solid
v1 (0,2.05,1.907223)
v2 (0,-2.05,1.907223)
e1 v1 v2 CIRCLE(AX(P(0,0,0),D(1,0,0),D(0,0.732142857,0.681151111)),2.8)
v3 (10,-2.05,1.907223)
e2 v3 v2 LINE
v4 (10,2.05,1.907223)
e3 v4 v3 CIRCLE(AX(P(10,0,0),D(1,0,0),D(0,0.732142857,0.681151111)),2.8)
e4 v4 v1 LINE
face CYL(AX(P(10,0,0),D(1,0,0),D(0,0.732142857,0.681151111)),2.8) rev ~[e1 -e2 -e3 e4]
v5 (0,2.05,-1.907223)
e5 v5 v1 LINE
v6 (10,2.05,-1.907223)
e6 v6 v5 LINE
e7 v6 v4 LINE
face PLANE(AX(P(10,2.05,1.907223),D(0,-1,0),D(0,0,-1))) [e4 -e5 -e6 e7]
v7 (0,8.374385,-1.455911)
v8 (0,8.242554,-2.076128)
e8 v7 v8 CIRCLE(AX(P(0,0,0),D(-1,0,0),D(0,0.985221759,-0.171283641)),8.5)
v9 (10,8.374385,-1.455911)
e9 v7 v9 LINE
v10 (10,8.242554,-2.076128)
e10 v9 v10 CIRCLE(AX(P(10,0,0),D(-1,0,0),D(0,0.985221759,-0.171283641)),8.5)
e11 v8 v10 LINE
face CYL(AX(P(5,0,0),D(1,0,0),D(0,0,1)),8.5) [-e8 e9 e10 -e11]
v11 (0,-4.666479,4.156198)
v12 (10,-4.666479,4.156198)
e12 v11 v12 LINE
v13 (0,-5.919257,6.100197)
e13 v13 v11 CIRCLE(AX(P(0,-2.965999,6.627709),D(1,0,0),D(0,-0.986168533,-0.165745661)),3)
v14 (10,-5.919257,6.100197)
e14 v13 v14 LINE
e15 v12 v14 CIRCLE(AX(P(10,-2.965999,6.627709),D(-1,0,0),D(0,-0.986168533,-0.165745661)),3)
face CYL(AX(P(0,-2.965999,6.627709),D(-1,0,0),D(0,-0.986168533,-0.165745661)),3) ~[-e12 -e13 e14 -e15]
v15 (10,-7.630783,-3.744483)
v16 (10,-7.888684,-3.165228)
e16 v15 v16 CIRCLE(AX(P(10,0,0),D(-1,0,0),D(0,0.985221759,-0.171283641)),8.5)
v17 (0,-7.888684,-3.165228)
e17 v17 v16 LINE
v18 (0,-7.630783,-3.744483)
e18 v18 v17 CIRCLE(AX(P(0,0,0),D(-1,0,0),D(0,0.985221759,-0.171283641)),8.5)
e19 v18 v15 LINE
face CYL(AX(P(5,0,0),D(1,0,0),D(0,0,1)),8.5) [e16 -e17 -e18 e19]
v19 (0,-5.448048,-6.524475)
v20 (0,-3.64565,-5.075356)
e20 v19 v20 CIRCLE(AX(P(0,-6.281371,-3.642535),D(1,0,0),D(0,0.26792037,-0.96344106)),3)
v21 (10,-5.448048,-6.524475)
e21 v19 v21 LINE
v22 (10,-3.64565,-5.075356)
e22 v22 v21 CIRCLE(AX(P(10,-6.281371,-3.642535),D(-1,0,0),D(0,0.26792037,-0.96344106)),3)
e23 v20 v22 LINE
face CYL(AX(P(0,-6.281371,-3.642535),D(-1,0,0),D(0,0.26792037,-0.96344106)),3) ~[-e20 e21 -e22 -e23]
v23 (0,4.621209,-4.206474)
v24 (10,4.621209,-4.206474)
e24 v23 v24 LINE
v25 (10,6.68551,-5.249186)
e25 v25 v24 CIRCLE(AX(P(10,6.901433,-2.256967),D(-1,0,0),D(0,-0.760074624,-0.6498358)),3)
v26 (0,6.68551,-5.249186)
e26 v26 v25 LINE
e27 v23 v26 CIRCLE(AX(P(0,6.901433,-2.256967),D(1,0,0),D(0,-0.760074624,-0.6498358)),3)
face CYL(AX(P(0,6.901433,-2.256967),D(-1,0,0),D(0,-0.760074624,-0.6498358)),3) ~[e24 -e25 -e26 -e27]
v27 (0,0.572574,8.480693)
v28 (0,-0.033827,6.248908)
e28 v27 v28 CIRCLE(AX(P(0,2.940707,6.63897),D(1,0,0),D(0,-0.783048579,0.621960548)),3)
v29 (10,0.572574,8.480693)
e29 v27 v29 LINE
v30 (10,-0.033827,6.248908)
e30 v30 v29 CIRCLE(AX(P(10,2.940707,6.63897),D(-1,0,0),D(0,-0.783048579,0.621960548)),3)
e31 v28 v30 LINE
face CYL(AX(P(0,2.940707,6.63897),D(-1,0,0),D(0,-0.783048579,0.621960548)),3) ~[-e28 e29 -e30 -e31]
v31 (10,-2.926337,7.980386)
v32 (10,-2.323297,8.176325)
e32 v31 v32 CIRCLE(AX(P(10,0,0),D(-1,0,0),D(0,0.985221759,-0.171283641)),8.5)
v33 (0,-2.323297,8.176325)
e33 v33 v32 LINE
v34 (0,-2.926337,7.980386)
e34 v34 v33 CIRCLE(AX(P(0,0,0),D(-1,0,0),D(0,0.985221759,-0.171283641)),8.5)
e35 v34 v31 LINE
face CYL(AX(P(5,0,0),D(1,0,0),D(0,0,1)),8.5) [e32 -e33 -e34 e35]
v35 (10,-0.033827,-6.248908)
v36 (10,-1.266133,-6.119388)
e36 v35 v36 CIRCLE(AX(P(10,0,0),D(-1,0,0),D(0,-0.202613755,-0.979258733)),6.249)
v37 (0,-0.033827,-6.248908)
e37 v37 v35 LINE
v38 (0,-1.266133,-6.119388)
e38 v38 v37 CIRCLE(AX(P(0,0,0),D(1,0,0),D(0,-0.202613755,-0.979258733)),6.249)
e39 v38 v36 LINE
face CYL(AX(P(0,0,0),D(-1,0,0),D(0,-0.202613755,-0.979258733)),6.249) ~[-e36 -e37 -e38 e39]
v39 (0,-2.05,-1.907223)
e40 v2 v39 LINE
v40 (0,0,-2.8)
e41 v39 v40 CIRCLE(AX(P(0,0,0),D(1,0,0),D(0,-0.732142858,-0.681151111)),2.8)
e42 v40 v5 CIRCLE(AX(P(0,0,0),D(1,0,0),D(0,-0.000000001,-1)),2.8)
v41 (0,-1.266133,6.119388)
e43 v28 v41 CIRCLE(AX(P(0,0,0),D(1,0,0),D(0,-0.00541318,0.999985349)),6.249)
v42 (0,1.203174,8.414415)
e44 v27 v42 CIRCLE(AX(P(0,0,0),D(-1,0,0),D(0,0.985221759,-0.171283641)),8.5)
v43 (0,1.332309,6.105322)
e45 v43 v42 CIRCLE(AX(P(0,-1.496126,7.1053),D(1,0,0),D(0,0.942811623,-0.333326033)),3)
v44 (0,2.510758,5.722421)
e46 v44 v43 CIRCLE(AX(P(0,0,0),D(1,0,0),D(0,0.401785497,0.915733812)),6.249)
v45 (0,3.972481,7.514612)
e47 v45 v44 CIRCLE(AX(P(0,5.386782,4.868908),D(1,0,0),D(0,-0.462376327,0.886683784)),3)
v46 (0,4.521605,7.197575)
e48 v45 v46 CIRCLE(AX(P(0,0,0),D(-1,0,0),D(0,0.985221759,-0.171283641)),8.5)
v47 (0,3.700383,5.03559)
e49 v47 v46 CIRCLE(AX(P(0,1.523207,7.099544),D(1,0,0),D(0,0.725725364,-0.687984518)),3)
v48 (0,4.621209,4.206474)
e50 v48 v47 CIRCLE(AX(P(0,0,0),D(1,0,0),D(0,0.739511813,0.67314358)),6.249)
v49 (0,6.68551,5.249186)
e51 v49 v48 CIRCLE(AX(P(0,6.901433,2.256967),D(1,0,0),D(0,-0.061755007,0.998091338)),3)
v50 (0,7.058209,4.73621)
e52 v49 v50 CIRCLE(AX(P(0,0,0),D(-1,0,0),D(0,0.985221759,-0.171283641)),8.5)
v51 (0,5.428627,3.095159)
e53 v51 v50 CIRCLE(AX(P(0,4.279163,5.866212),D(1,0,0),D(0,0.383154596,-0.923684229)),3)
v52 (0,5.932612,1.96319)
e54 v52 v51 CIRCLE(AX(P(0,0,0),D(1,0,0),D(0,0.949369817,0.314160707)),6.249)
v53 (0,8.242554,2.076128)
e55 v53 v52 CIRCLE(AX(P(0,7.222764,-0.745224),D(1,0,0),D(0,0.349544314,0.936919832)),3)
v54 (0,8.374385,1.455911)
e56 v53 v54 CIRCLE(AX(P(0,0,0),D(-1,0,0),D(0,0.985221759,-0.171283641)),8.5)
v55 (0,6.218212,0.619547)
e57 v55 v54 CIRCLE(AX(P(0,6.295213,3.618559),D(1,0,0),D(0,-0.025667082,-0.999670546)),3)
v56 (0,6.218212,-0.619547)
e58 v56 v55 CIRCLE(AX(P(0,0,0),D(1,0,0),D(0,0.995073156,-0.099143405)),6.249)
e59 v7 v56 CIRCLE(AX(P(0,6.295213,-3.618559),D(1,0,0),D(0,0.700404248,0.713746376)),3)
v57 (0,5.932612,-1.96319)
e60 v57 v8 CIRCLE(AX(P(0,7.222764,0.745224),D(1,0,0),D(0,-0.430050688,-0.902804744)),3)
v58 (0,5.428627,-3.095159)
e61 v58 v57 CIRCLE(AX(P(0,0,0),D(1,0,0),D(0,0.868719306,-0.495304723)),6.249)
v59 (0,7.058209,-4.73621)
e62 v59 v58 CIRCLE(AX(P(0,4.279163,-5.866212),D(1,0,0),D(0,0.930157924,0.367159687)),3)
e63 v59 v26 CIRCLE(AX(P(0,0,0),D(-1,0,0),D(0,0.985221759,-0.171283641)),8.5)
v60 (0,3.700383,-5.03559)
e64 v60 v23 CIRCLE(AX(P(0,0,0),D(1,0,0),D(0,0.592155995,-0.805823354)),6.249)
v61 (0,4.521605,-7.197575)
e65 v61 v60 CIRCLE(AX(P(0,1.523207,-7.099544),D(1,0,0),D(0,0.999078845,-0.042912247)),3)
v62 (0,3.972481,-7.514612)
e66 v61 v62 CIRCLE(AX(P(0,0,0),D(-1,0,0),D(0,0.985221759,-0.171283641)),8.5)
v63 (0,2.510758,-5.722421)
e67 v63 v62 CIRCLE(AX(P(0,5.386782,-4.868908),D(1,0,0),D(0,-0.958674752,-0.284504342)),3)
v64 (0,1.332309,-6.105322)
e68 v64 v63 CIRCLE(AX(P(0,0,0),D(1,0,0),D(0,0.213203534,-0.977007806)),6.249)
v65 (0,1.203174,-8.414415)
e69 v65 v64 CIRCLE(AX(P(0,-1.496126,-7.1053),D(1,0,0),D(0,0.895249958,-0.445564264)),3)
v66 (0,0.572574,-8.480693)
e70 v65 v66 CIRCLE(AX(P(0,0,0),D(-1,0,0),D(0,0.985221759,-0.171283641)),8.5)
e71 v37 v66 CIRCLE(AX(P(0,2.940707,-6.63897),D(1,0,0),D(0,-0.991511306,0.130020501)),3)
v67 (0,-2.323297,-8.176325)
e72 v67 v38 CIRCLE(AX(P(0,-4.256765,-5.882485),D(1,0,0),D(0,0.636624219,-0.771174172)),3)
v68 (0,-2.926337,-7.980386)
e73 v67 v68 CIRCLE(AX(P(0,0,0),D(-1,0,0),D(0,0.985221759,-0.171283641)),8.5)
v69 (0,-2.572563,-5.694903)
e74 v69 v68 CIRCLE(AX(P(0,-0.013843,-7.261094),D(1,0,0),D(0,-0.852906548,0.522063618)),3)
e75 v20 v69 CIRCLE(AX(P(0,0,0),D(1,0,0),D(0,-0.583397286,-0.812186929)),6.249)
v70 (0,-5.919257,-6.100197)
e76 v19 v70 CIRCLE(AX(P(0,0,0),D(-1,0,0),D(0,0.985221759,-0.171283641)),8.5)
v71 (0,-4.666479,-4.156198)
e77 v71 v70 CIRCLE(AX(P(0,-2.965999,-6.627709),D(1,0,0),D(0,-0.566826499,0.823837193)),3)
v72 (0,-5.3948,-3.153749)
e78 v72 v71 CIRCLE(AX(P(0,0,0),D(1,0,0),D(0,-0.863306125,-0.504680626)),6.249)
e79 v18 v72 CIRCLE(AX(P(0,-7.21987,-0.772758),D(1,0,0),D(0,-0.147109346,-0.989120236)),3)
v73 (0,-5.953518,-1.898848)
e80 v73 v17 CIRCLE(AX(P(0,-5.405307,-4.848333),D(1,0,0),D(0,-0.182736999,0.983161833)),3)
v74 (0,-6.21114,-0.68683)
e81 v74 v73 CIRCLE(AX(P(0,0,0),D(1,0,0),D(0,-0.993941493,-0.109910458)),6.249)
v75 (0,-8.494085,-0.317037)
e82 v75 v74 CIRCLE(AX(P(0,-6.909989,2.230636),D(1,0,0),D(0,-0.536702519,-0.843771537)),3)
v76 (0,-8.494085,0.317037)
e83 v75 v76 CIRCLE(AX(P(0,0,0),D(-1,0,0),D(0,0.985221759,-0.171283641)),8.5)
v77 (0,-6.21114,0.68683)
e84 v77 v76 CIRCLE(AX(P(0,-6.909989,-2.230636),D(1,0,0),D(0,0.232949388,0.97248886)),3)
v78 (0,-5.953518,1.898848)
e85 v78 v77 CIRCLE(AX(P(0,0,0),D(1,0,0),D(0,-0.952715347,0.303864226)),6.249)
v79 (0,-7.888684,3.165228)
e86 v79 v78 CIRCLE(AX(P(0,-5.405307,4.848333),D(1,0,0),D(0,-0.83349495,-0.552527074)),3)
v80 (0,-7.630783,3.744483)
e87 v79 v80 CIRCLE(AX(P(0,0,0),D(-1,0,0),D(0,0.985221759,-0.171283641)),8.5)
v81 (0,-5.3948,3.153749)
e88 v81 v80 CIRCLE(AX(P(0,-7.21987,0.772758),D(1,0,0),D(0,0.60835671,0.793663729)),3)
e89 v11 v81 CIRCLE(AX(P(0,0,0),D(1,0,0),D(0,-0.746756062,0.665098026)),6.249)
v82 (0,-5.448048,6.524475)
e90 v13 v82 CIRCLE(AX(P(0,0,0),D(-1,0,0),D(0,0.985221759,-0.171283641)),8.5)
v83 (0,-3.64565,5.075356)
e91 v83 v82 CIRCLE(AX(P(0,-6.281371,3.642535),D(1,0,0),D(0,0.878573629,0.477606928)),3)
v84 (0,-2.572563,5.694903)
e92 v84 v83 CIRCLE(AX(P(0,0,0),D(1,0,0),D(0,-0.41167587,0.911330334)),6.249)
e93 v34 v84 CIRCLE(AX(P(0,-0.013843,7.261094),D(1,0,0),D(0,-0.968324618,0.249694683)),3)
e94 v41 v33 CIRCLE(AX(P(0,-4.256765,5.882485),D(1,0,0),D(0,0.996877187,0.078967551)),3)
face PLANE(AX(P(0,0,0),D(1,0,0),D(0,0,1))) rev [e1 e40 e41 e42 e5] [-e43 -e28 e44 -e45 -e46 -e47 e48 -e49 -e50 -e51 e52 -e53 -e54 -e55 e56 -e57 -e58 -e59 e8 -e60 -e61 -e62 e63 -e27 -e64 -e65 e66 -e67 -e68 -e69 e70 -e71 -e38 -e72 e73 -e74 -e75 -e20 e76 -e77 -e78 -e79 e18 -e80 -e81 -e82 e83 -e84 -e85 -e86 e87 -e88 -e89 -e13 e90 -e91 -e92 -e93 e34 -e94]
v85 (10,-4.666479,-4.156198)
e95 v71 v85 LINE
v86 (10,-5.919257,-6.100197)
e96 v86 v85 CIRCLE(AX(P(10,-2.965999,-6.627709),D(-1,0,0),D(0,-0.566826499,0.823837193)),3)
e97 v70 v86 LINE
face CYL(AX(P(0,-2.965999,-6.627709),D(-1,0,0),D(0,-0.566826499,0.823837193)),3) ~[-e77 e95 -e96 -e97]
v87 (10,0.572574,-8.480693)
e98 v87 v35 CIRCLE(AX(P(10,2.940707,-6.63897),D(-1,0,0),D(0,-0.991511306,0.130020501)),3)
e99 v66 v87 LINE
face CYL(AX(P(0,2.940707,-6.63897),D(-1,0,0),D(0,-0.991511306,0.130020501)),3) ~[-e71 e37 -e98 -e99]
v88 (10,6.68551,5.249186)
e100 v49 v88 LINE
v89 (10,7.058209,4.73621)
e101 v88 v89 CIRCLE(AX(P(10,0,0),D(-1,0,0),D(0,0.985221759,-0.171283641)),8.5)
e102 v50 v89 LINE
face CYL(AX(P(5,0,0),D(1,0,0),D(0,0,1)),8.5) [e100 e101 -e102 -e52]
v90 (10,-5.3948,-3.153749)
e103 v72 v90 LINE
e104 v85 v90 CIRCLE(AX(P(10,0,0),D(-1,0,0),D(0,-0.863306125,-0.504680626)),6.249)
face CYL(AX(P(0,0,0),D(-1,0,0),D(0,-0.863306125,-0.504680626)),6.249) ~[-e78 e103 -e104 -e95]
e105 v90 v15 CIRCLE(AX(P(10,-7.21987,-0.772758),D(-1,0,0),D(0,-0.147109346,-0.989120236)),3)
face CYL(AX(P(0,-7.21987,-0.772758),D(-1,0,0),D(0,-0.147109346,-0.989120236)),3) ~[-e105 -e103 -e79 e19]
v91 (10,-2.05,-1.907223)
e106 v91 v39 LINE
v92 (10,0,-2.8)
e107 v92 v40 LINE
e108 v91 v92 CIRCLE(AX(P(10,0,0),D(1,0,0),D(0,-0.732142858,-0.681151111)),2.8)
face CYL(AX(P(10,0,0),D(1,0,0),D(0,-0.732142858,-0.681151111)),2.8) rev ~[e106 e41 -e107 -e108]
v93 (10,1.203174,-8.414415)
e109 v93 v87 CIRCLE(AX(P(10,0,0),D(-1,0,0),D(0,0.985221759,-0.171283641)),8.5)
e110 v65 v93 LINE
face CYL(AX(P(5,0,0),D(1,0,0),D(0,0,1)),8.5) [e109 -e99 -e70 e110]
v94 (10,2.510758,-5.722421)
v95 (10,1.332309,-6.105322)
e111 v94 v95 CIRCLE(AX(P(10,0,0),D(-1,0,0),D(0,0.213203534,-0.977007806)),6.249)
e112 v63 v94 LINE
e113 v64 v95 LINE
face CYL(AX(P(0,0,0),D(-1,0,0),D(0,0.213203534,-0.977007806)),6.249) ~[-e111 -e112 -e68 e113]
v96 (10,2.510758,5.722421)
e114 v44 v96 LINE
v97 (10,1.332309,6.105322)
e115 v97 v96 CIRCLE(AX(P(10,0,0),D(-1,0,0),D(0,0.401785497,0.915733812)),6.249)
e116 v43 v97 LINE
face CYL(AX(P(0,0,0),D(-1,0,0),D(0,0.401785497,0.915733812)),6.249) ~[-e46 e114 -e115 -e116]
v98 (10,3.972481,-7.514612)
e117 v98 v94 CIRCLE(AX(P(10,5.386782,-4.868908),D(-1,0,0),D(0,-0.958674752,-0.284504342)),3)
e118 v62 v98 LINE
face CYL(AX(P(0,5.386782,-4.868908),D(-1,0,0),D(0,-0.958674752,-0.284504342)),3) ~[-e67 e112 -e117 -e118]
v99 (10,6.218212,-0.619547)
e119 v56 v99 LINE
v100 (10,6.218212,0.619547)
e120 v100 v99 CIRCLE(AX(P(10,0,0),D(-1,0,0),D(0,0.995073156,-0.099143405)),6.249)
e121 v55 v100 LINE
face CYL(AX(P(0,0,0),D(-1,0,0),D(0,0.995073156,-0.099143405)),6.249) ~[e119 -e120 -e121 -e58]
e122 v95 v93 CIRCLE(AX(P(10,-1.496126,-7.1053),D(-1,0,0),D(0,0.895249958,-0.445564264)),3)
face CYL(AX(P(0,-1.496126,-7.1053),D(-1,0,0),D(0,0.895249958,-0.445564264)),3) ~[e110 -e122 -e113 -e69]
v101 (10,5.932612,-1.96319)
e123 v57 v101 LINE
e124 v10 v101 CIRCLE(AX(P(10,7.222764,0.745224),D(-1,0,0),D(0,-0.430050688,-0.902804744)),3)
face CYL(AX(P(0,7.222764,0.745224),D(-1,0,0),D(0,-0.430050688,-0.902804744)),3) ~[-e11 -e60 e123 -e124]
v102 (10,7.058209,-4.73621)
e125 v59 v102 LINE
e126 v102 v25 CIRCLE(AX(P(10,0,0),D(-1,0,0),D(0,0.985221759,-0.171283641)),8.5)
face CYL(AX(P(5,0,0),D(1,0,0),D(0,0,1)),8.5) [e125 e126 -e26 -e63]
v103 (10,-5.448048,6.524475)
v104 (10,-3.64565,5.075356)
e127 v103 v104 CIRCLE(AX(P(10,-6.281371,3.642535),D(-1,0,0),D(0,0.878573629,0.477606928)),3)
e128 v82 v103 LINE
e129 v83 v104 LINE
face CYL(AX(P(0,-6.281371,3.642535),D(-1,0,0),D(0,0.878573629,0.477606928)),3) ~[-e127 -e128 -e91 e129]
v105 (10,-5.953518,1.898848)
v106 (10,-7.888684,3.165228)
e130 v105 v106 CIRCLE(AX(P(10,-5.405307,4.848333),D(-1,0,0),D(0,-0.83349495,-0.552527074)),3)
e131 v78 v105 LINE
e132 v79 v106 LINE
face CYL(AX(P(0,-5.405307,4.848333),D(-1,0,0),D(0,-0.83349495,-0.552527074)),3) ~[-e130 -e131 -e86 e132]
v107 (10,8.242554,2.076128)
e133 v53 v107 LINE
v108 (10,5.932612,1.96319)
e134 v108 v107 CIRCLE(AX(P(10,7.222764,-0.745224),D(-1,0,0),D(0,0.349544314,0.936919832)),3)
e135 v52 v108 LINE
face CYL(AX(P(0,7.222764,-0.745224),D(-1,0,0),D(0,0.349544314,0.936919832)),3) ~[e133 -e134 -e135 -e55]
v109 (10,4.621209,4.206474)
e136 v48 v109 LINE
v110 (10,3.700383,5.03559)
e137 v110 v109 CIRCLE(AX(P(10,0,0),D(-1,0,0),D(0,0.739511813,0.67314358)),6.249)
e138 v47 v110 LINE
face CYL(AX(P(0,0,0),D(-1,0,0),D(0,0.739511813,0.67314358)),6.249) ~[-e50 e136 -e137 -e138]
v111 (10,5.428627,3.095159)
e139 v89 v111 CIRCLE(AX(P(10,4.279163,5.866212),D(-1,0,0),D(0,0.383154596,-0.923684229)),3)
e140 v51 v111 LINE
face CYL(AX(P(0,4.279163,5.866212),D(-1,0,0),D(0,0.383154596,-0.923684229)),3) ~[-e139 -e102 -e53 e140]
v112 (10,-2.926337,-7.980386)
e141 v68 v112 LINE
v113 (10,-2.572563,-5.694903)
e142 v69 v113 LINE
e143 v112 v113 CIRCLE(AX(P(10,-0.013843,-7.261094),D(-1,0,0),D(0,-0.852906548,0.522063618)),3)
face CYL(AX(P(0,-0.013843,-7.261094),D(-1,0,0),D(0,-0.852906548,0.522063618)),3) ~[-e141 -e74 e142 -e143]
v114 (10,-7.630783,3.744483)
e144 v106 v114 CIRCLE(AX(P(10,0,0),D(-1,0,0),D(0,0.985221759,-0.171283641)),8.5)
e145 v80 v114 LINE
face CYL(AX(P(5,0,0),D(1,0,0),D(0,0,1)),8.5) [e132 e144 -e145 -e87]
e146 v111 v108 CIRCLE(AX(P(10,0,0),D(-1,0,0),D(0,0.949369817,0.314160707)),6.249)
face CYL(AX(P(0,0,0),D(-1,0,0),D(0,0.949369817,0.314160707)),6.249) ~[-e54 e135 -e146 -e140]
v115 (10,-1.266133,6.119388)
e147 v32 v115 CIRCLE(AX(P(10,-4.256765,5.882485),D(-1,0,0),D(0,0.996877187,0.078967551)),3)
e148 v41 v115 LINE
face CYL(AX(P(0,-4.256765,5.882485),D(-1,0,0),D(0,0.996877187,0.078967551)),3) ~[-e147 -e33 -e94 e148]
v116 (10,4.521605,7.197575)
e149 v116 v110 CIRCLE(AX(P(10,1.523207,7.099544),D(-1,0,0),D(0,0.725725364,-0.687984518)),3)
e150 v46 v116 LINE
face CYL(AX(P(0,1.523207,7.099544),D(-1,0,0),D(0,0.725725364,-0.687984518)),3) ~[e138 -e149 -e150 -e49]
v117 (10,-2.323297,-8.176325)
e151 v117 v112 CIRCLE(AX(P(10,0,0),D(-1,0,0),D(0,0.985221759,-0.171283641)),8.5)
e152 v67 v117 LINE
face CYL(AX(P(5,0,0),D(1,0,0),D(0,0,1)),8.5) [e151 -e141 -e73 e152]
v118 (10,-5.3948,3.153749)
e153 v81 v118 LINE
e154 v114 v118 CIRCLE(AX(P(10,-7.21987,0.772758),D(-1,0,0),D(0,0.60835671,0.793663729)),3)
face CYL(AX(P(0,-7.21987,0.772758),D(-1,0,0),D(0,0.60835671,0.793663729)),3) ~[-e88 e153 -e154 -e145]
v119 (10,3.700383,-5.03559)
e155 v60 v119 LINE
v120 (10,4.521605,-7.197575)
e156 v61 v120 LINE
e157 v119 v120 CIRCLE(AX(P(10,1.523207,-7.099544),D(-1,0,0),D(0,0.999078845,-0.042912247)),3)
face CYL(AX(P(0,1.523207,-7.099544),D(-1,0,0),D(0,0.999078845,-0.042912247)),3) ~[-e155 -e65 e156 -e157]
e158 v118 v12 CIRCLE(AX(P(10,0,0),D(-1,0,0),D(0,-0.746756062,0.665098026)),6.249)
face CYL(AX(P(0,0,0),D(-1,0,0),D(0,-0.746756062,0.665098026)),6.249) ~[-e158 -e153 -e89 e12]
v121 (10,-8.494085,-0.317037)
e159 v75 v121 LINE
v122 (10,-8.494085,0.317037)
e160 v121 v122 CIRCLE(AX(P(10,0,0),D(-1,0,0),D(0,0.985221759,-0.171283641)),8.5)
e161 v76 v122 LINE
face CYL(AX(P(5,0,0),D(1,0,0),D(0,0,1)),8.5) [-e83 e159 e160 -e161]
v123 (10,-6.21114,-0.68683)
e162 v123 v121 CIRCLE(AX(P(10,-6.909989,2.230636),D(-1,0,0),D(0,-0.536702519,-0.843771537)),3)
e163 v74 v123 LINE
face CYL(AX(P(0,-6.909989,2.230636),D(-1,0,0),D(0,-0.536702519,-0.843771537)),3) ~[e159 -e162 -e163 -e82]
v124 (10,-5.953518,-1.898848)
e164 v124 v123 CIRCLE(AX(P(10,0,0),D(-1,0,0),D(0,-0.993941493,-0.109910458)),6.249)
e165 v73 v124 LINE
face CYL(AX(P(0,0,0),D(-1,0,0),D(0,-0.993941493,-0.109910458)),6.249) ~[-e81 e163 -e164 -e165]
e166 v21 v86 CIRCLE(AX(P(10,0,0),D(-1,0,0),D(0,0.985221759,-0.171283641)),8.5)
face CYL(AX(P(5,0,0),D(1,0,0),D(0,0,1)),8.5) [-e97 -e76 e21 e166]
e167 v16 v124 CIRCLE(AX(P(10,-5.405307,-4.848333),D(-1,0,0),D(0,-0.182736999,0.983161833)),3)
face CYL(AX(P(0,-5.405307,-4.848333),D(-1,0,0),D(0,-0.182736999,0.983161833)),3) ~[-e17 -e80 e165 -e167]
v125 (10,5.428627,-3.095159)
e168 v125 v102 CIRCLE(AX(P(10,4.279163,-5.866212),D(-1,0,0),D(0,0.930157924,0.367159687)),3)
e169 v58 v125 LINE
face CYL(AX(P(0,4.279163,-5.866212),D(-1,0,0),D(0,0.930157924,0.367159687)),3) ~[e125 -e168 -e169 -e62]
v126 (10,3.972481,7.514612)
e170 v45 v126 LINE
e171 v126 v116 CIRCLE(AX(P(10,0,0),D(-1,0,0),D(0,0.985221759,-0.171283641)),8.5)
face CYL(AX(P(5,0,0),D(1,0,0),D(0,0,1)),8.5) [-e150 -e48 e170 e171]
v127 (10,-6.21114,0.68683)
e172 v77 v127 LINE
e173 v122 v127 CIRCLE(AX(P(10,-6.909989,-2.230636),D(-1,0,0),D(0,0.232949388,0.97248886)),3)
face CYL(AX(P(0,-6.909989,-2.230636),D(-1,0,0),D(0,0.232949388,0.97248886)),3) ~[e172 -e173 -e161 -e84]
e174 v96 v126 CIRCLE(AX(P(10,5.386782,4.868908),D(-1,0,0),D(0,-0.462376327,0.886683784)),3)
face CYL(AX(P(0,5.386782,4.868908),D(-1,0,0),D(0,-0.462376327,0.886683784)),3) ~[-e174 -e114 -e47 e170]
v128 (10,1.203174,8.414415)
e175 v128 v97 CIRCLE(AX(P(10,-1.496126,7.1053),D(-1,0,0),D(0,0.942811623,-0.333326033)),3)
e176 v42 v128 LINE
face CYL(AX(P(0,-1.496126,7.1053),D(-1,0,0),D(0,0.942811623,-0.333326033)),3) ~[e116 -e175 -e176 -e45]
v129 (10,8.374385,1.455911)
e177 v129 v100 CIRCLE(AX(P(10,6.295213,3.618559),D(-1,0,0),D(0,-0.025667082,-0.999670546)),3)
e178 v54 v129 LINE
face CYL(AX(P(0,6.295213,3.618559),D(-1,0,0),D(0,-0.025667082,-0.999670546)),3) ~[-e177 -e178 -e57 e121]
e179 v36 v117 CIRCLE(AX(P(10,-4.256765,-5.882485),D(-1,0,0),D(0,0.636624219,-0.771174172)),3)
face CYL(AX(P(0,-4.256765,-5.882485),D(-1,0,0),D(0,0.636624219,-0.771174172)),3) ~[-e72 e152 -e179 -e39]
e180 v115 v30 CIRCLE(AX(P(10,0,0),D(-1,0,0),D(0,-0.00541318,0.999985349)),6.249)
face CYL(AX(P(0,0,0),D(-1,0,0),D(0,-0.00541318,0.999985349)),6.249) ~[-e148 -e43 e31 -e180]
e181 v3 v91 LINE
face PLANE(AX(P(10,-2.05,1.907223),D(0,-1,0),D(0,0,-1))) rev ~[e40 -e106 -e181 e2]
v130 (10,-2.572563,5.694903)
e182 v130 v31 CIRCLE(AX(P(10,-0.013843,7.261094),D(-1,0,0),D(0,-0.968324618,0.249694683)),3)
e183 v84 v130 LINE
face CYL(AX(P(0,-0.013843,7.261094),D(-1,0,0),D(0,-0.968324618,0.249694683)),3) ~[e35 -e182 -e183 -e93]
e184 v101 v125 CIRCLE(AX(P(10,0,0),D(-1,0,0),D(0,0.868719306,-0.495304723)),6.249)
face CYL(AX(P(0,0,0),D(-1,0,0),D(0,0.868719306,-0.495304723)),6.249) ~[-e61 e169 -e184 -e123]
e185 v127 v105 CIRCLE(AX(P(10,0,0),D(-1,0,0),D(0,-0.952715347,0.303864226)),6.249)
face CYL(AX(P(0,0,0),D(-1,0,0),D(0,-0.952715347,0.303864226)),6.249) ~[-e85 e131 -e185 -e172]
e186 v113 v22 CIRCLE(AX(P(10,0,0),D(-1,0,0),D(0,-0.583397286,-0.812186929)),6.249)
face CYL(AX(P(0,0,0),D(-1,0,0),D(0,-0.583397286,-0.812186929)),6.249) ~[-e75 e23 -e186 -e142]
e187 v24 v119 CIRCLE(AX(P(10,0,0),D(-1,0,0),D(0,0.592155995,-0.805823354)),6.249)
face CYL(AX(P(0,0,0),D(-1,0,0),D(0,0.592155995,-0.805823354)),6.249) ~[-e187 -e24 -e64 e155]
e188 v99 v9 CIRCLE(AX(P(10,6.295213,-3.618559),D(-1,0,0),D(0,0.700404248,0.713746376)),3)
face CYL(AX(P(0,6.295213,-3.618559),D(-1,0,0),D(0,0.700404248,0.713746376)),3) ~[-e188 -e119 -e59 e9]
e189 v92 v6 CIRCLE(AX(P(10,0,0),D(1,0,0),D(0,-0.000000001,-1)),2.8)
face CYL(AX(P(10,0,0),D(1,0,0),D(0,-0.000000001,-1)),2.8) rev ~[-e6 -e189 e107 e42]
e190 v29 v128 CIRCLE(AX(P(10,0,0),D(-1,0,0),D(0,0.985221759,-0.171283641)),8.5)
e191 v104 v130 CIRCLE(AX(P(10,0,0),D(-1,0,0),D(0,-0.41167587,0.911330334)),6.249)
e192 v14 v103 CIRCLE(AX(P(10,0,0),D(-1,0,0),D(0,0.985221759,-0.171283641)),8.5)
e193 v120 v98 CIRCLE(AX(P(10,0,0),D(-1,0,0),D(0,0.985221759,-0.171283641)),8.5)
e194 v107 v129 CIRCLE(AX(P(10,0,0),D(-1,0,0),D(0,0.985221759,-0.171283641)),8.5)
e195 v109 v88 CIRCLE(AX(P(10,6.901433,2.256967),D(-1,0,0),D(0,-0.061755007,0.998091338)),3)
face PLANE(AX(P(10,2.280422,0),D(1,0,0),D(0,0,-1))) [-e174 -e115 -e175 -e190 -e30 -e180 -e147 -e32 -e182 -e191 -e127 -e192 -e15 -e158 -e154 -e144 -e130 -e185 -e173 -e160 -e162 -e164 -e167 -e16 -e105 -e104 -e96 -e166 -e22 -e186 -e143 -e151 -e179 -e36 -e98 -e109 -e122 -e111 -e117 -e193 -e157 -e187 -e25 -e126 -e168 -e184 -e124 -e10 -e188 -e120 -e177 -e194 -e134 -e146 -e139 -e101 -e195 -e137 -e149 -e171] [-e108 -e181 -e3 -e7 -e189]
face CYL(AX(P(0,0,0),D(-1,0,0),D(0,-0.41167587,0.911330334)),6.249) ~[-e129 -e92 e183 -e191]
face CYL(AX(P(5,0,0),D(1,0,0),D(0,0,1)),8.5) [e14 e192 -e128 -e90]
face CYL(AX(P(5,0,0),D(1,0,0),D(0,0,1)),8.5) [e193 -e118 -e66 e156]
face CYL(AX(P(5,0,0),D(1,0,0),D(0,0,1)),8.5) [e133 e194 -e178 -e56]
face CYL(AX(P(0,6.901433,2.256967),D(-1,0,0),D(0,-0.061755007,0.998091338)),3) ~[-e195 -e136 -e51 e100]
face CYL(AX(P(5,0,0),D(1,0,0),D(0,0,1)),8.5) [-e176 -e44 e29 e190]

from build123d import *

# Parameters (mm, degrees)
BASPROSKE_W         = 10
BASPROSKE_H         = 8.5
TOOTHCUT_DEPTH      = 16.636495771
TEETHCUTS_COUNT     = 15
TEETHCUTS_ANGLE     = 336
BORSKE_R            = 2.5
BORE_DEPTH          = 50.0000508
BOSS_EXTRUDE1_DEPTH = 10
CUT_EXTRUDE1_DEPTH  = 10


with BuildPart() as part:
    # BasProSke → Base-Revolve (revolve)
    with BuildSketch(Plane(origin=(0, 0, 0), x_dir=(1, 0, 0), z_dir=(0, 1, 0)), mode=Mode.PRIVATE) as base_revolve_sk:
        with Locations((5, 4.25)):
            Rectangle(BASPROSKE_W, BASPROSKE_H)
    revolve(base_revolve_sk.sketch.rotate(Axis((-10, 0, 0), (1, 0, 0)), 180), axis=Axis((-10, 0, 0), (1, 0, 0)))

    # TooCutSke → ToothCut (cut, through all)
    with BuildSketch(Plane(origin=(0, 0, 0), x_dir=(0, 0, -1), z_dir=(1, 0, 0))):
        with BuildLine():
            ThreePointArc((0.619547138, 6.21821215), (0, 6.249), (-0.619547138, 6.21821215))
            ThreePointArc((-0.619547138, 6.21821215), (-0.827197364, 7.394441061), (-1.477319646, 8.396426134))
            ThreePointArc((-1.477319646, 8.396426134), (0, 8.5254), (1.477319646, 8.396426134))
            ThreePointArc((1.477319646, 8.396426134), (0.827197364, 7.394441061), (0.619547138, 6.21821215))
        make_face()
    toothcut = extrude(amount=TOOTHCUT_DEPTH, mode=Mode.SUBTRACT)

    # TeethCuts: ToothCut ×15 about axis
    teethcuts_axis = Axis((-10, 0, 0), (1, 0, 0))
    for i in range(1, TEETHCUTS_COUNT):
        add(toothcut.rotate(teethcuts_axis, i * TEETHCUTS_ANGLE / (TEETHCUTS_COUNT - 1)), mode=Mode.SUBTRACT)

    # BorSke → Bore (cut, symmetric)
    with BuildSketch(Plane(origin=(0, 0, 0), x_dir=(0, 0, -1), z_dir=(1, 0, 0))):
        with Locations(Location((0, 0, 0), (0, 0, 180))):
            Circle(BORSKE_R)
    extrude(amount=BORE_DEPTH, both=True, mode=Mode.SUBTRACT)

    # Sketch1 → Boss-Extrude1 (add, through all)
    with BuildSketch(Plane(origin=(10, 0, 0), x_dir=(0, 0, -1), z_dir=(1, 0, 0))):
        with BuildLine():
            ThreePointArc((1.907223112, 2.05), (0, 2.8), (-1.907223112, 2.05))
            Line((-1.907223112, 2.05), (1.907223112, 2.05))
        make_face()
        with BuildLine():
            Line((1.907223112, -2.05), (-1.907223112, -2.05))
            ThreePointArc((-1.907223112, -2.05), (0, -2.8), (1.907223112, -2.05))
        make_face()
    extrude(amount=-BOSS_EXTRUDE1_DEPTH)

    # Sketch1<3> → Cut-Extrude1 (cut)
    with BuildSketch(Plane(origin=(10, 0, 0), x_dir=(0, 0, -1), z_dir=(1, 0, 0))):
        with BuildLine():
            Line((1.907223112, 2.05), (-1.907223112, 2.05))
            ThreePointArc((-1.907223112, 2.05), (-2.8, 0), (-1.907223112, -2.05))
            Line((-1.907223112, -2.05), (1.907223112, -2.05))
            ThreePointArc((1.907223112, -2.05), (2.567121415, -1.11798374), (2.8, 0))
            ThreePointArc((2.8, 0), (2.567121415, 1.11798374), (1.907223112, 2.05))
        make_face()
    extrude(amount=-CUT_EXTRUDE1_DEPTH, mode=Mode.SUBTRACT)


solid = part.part
